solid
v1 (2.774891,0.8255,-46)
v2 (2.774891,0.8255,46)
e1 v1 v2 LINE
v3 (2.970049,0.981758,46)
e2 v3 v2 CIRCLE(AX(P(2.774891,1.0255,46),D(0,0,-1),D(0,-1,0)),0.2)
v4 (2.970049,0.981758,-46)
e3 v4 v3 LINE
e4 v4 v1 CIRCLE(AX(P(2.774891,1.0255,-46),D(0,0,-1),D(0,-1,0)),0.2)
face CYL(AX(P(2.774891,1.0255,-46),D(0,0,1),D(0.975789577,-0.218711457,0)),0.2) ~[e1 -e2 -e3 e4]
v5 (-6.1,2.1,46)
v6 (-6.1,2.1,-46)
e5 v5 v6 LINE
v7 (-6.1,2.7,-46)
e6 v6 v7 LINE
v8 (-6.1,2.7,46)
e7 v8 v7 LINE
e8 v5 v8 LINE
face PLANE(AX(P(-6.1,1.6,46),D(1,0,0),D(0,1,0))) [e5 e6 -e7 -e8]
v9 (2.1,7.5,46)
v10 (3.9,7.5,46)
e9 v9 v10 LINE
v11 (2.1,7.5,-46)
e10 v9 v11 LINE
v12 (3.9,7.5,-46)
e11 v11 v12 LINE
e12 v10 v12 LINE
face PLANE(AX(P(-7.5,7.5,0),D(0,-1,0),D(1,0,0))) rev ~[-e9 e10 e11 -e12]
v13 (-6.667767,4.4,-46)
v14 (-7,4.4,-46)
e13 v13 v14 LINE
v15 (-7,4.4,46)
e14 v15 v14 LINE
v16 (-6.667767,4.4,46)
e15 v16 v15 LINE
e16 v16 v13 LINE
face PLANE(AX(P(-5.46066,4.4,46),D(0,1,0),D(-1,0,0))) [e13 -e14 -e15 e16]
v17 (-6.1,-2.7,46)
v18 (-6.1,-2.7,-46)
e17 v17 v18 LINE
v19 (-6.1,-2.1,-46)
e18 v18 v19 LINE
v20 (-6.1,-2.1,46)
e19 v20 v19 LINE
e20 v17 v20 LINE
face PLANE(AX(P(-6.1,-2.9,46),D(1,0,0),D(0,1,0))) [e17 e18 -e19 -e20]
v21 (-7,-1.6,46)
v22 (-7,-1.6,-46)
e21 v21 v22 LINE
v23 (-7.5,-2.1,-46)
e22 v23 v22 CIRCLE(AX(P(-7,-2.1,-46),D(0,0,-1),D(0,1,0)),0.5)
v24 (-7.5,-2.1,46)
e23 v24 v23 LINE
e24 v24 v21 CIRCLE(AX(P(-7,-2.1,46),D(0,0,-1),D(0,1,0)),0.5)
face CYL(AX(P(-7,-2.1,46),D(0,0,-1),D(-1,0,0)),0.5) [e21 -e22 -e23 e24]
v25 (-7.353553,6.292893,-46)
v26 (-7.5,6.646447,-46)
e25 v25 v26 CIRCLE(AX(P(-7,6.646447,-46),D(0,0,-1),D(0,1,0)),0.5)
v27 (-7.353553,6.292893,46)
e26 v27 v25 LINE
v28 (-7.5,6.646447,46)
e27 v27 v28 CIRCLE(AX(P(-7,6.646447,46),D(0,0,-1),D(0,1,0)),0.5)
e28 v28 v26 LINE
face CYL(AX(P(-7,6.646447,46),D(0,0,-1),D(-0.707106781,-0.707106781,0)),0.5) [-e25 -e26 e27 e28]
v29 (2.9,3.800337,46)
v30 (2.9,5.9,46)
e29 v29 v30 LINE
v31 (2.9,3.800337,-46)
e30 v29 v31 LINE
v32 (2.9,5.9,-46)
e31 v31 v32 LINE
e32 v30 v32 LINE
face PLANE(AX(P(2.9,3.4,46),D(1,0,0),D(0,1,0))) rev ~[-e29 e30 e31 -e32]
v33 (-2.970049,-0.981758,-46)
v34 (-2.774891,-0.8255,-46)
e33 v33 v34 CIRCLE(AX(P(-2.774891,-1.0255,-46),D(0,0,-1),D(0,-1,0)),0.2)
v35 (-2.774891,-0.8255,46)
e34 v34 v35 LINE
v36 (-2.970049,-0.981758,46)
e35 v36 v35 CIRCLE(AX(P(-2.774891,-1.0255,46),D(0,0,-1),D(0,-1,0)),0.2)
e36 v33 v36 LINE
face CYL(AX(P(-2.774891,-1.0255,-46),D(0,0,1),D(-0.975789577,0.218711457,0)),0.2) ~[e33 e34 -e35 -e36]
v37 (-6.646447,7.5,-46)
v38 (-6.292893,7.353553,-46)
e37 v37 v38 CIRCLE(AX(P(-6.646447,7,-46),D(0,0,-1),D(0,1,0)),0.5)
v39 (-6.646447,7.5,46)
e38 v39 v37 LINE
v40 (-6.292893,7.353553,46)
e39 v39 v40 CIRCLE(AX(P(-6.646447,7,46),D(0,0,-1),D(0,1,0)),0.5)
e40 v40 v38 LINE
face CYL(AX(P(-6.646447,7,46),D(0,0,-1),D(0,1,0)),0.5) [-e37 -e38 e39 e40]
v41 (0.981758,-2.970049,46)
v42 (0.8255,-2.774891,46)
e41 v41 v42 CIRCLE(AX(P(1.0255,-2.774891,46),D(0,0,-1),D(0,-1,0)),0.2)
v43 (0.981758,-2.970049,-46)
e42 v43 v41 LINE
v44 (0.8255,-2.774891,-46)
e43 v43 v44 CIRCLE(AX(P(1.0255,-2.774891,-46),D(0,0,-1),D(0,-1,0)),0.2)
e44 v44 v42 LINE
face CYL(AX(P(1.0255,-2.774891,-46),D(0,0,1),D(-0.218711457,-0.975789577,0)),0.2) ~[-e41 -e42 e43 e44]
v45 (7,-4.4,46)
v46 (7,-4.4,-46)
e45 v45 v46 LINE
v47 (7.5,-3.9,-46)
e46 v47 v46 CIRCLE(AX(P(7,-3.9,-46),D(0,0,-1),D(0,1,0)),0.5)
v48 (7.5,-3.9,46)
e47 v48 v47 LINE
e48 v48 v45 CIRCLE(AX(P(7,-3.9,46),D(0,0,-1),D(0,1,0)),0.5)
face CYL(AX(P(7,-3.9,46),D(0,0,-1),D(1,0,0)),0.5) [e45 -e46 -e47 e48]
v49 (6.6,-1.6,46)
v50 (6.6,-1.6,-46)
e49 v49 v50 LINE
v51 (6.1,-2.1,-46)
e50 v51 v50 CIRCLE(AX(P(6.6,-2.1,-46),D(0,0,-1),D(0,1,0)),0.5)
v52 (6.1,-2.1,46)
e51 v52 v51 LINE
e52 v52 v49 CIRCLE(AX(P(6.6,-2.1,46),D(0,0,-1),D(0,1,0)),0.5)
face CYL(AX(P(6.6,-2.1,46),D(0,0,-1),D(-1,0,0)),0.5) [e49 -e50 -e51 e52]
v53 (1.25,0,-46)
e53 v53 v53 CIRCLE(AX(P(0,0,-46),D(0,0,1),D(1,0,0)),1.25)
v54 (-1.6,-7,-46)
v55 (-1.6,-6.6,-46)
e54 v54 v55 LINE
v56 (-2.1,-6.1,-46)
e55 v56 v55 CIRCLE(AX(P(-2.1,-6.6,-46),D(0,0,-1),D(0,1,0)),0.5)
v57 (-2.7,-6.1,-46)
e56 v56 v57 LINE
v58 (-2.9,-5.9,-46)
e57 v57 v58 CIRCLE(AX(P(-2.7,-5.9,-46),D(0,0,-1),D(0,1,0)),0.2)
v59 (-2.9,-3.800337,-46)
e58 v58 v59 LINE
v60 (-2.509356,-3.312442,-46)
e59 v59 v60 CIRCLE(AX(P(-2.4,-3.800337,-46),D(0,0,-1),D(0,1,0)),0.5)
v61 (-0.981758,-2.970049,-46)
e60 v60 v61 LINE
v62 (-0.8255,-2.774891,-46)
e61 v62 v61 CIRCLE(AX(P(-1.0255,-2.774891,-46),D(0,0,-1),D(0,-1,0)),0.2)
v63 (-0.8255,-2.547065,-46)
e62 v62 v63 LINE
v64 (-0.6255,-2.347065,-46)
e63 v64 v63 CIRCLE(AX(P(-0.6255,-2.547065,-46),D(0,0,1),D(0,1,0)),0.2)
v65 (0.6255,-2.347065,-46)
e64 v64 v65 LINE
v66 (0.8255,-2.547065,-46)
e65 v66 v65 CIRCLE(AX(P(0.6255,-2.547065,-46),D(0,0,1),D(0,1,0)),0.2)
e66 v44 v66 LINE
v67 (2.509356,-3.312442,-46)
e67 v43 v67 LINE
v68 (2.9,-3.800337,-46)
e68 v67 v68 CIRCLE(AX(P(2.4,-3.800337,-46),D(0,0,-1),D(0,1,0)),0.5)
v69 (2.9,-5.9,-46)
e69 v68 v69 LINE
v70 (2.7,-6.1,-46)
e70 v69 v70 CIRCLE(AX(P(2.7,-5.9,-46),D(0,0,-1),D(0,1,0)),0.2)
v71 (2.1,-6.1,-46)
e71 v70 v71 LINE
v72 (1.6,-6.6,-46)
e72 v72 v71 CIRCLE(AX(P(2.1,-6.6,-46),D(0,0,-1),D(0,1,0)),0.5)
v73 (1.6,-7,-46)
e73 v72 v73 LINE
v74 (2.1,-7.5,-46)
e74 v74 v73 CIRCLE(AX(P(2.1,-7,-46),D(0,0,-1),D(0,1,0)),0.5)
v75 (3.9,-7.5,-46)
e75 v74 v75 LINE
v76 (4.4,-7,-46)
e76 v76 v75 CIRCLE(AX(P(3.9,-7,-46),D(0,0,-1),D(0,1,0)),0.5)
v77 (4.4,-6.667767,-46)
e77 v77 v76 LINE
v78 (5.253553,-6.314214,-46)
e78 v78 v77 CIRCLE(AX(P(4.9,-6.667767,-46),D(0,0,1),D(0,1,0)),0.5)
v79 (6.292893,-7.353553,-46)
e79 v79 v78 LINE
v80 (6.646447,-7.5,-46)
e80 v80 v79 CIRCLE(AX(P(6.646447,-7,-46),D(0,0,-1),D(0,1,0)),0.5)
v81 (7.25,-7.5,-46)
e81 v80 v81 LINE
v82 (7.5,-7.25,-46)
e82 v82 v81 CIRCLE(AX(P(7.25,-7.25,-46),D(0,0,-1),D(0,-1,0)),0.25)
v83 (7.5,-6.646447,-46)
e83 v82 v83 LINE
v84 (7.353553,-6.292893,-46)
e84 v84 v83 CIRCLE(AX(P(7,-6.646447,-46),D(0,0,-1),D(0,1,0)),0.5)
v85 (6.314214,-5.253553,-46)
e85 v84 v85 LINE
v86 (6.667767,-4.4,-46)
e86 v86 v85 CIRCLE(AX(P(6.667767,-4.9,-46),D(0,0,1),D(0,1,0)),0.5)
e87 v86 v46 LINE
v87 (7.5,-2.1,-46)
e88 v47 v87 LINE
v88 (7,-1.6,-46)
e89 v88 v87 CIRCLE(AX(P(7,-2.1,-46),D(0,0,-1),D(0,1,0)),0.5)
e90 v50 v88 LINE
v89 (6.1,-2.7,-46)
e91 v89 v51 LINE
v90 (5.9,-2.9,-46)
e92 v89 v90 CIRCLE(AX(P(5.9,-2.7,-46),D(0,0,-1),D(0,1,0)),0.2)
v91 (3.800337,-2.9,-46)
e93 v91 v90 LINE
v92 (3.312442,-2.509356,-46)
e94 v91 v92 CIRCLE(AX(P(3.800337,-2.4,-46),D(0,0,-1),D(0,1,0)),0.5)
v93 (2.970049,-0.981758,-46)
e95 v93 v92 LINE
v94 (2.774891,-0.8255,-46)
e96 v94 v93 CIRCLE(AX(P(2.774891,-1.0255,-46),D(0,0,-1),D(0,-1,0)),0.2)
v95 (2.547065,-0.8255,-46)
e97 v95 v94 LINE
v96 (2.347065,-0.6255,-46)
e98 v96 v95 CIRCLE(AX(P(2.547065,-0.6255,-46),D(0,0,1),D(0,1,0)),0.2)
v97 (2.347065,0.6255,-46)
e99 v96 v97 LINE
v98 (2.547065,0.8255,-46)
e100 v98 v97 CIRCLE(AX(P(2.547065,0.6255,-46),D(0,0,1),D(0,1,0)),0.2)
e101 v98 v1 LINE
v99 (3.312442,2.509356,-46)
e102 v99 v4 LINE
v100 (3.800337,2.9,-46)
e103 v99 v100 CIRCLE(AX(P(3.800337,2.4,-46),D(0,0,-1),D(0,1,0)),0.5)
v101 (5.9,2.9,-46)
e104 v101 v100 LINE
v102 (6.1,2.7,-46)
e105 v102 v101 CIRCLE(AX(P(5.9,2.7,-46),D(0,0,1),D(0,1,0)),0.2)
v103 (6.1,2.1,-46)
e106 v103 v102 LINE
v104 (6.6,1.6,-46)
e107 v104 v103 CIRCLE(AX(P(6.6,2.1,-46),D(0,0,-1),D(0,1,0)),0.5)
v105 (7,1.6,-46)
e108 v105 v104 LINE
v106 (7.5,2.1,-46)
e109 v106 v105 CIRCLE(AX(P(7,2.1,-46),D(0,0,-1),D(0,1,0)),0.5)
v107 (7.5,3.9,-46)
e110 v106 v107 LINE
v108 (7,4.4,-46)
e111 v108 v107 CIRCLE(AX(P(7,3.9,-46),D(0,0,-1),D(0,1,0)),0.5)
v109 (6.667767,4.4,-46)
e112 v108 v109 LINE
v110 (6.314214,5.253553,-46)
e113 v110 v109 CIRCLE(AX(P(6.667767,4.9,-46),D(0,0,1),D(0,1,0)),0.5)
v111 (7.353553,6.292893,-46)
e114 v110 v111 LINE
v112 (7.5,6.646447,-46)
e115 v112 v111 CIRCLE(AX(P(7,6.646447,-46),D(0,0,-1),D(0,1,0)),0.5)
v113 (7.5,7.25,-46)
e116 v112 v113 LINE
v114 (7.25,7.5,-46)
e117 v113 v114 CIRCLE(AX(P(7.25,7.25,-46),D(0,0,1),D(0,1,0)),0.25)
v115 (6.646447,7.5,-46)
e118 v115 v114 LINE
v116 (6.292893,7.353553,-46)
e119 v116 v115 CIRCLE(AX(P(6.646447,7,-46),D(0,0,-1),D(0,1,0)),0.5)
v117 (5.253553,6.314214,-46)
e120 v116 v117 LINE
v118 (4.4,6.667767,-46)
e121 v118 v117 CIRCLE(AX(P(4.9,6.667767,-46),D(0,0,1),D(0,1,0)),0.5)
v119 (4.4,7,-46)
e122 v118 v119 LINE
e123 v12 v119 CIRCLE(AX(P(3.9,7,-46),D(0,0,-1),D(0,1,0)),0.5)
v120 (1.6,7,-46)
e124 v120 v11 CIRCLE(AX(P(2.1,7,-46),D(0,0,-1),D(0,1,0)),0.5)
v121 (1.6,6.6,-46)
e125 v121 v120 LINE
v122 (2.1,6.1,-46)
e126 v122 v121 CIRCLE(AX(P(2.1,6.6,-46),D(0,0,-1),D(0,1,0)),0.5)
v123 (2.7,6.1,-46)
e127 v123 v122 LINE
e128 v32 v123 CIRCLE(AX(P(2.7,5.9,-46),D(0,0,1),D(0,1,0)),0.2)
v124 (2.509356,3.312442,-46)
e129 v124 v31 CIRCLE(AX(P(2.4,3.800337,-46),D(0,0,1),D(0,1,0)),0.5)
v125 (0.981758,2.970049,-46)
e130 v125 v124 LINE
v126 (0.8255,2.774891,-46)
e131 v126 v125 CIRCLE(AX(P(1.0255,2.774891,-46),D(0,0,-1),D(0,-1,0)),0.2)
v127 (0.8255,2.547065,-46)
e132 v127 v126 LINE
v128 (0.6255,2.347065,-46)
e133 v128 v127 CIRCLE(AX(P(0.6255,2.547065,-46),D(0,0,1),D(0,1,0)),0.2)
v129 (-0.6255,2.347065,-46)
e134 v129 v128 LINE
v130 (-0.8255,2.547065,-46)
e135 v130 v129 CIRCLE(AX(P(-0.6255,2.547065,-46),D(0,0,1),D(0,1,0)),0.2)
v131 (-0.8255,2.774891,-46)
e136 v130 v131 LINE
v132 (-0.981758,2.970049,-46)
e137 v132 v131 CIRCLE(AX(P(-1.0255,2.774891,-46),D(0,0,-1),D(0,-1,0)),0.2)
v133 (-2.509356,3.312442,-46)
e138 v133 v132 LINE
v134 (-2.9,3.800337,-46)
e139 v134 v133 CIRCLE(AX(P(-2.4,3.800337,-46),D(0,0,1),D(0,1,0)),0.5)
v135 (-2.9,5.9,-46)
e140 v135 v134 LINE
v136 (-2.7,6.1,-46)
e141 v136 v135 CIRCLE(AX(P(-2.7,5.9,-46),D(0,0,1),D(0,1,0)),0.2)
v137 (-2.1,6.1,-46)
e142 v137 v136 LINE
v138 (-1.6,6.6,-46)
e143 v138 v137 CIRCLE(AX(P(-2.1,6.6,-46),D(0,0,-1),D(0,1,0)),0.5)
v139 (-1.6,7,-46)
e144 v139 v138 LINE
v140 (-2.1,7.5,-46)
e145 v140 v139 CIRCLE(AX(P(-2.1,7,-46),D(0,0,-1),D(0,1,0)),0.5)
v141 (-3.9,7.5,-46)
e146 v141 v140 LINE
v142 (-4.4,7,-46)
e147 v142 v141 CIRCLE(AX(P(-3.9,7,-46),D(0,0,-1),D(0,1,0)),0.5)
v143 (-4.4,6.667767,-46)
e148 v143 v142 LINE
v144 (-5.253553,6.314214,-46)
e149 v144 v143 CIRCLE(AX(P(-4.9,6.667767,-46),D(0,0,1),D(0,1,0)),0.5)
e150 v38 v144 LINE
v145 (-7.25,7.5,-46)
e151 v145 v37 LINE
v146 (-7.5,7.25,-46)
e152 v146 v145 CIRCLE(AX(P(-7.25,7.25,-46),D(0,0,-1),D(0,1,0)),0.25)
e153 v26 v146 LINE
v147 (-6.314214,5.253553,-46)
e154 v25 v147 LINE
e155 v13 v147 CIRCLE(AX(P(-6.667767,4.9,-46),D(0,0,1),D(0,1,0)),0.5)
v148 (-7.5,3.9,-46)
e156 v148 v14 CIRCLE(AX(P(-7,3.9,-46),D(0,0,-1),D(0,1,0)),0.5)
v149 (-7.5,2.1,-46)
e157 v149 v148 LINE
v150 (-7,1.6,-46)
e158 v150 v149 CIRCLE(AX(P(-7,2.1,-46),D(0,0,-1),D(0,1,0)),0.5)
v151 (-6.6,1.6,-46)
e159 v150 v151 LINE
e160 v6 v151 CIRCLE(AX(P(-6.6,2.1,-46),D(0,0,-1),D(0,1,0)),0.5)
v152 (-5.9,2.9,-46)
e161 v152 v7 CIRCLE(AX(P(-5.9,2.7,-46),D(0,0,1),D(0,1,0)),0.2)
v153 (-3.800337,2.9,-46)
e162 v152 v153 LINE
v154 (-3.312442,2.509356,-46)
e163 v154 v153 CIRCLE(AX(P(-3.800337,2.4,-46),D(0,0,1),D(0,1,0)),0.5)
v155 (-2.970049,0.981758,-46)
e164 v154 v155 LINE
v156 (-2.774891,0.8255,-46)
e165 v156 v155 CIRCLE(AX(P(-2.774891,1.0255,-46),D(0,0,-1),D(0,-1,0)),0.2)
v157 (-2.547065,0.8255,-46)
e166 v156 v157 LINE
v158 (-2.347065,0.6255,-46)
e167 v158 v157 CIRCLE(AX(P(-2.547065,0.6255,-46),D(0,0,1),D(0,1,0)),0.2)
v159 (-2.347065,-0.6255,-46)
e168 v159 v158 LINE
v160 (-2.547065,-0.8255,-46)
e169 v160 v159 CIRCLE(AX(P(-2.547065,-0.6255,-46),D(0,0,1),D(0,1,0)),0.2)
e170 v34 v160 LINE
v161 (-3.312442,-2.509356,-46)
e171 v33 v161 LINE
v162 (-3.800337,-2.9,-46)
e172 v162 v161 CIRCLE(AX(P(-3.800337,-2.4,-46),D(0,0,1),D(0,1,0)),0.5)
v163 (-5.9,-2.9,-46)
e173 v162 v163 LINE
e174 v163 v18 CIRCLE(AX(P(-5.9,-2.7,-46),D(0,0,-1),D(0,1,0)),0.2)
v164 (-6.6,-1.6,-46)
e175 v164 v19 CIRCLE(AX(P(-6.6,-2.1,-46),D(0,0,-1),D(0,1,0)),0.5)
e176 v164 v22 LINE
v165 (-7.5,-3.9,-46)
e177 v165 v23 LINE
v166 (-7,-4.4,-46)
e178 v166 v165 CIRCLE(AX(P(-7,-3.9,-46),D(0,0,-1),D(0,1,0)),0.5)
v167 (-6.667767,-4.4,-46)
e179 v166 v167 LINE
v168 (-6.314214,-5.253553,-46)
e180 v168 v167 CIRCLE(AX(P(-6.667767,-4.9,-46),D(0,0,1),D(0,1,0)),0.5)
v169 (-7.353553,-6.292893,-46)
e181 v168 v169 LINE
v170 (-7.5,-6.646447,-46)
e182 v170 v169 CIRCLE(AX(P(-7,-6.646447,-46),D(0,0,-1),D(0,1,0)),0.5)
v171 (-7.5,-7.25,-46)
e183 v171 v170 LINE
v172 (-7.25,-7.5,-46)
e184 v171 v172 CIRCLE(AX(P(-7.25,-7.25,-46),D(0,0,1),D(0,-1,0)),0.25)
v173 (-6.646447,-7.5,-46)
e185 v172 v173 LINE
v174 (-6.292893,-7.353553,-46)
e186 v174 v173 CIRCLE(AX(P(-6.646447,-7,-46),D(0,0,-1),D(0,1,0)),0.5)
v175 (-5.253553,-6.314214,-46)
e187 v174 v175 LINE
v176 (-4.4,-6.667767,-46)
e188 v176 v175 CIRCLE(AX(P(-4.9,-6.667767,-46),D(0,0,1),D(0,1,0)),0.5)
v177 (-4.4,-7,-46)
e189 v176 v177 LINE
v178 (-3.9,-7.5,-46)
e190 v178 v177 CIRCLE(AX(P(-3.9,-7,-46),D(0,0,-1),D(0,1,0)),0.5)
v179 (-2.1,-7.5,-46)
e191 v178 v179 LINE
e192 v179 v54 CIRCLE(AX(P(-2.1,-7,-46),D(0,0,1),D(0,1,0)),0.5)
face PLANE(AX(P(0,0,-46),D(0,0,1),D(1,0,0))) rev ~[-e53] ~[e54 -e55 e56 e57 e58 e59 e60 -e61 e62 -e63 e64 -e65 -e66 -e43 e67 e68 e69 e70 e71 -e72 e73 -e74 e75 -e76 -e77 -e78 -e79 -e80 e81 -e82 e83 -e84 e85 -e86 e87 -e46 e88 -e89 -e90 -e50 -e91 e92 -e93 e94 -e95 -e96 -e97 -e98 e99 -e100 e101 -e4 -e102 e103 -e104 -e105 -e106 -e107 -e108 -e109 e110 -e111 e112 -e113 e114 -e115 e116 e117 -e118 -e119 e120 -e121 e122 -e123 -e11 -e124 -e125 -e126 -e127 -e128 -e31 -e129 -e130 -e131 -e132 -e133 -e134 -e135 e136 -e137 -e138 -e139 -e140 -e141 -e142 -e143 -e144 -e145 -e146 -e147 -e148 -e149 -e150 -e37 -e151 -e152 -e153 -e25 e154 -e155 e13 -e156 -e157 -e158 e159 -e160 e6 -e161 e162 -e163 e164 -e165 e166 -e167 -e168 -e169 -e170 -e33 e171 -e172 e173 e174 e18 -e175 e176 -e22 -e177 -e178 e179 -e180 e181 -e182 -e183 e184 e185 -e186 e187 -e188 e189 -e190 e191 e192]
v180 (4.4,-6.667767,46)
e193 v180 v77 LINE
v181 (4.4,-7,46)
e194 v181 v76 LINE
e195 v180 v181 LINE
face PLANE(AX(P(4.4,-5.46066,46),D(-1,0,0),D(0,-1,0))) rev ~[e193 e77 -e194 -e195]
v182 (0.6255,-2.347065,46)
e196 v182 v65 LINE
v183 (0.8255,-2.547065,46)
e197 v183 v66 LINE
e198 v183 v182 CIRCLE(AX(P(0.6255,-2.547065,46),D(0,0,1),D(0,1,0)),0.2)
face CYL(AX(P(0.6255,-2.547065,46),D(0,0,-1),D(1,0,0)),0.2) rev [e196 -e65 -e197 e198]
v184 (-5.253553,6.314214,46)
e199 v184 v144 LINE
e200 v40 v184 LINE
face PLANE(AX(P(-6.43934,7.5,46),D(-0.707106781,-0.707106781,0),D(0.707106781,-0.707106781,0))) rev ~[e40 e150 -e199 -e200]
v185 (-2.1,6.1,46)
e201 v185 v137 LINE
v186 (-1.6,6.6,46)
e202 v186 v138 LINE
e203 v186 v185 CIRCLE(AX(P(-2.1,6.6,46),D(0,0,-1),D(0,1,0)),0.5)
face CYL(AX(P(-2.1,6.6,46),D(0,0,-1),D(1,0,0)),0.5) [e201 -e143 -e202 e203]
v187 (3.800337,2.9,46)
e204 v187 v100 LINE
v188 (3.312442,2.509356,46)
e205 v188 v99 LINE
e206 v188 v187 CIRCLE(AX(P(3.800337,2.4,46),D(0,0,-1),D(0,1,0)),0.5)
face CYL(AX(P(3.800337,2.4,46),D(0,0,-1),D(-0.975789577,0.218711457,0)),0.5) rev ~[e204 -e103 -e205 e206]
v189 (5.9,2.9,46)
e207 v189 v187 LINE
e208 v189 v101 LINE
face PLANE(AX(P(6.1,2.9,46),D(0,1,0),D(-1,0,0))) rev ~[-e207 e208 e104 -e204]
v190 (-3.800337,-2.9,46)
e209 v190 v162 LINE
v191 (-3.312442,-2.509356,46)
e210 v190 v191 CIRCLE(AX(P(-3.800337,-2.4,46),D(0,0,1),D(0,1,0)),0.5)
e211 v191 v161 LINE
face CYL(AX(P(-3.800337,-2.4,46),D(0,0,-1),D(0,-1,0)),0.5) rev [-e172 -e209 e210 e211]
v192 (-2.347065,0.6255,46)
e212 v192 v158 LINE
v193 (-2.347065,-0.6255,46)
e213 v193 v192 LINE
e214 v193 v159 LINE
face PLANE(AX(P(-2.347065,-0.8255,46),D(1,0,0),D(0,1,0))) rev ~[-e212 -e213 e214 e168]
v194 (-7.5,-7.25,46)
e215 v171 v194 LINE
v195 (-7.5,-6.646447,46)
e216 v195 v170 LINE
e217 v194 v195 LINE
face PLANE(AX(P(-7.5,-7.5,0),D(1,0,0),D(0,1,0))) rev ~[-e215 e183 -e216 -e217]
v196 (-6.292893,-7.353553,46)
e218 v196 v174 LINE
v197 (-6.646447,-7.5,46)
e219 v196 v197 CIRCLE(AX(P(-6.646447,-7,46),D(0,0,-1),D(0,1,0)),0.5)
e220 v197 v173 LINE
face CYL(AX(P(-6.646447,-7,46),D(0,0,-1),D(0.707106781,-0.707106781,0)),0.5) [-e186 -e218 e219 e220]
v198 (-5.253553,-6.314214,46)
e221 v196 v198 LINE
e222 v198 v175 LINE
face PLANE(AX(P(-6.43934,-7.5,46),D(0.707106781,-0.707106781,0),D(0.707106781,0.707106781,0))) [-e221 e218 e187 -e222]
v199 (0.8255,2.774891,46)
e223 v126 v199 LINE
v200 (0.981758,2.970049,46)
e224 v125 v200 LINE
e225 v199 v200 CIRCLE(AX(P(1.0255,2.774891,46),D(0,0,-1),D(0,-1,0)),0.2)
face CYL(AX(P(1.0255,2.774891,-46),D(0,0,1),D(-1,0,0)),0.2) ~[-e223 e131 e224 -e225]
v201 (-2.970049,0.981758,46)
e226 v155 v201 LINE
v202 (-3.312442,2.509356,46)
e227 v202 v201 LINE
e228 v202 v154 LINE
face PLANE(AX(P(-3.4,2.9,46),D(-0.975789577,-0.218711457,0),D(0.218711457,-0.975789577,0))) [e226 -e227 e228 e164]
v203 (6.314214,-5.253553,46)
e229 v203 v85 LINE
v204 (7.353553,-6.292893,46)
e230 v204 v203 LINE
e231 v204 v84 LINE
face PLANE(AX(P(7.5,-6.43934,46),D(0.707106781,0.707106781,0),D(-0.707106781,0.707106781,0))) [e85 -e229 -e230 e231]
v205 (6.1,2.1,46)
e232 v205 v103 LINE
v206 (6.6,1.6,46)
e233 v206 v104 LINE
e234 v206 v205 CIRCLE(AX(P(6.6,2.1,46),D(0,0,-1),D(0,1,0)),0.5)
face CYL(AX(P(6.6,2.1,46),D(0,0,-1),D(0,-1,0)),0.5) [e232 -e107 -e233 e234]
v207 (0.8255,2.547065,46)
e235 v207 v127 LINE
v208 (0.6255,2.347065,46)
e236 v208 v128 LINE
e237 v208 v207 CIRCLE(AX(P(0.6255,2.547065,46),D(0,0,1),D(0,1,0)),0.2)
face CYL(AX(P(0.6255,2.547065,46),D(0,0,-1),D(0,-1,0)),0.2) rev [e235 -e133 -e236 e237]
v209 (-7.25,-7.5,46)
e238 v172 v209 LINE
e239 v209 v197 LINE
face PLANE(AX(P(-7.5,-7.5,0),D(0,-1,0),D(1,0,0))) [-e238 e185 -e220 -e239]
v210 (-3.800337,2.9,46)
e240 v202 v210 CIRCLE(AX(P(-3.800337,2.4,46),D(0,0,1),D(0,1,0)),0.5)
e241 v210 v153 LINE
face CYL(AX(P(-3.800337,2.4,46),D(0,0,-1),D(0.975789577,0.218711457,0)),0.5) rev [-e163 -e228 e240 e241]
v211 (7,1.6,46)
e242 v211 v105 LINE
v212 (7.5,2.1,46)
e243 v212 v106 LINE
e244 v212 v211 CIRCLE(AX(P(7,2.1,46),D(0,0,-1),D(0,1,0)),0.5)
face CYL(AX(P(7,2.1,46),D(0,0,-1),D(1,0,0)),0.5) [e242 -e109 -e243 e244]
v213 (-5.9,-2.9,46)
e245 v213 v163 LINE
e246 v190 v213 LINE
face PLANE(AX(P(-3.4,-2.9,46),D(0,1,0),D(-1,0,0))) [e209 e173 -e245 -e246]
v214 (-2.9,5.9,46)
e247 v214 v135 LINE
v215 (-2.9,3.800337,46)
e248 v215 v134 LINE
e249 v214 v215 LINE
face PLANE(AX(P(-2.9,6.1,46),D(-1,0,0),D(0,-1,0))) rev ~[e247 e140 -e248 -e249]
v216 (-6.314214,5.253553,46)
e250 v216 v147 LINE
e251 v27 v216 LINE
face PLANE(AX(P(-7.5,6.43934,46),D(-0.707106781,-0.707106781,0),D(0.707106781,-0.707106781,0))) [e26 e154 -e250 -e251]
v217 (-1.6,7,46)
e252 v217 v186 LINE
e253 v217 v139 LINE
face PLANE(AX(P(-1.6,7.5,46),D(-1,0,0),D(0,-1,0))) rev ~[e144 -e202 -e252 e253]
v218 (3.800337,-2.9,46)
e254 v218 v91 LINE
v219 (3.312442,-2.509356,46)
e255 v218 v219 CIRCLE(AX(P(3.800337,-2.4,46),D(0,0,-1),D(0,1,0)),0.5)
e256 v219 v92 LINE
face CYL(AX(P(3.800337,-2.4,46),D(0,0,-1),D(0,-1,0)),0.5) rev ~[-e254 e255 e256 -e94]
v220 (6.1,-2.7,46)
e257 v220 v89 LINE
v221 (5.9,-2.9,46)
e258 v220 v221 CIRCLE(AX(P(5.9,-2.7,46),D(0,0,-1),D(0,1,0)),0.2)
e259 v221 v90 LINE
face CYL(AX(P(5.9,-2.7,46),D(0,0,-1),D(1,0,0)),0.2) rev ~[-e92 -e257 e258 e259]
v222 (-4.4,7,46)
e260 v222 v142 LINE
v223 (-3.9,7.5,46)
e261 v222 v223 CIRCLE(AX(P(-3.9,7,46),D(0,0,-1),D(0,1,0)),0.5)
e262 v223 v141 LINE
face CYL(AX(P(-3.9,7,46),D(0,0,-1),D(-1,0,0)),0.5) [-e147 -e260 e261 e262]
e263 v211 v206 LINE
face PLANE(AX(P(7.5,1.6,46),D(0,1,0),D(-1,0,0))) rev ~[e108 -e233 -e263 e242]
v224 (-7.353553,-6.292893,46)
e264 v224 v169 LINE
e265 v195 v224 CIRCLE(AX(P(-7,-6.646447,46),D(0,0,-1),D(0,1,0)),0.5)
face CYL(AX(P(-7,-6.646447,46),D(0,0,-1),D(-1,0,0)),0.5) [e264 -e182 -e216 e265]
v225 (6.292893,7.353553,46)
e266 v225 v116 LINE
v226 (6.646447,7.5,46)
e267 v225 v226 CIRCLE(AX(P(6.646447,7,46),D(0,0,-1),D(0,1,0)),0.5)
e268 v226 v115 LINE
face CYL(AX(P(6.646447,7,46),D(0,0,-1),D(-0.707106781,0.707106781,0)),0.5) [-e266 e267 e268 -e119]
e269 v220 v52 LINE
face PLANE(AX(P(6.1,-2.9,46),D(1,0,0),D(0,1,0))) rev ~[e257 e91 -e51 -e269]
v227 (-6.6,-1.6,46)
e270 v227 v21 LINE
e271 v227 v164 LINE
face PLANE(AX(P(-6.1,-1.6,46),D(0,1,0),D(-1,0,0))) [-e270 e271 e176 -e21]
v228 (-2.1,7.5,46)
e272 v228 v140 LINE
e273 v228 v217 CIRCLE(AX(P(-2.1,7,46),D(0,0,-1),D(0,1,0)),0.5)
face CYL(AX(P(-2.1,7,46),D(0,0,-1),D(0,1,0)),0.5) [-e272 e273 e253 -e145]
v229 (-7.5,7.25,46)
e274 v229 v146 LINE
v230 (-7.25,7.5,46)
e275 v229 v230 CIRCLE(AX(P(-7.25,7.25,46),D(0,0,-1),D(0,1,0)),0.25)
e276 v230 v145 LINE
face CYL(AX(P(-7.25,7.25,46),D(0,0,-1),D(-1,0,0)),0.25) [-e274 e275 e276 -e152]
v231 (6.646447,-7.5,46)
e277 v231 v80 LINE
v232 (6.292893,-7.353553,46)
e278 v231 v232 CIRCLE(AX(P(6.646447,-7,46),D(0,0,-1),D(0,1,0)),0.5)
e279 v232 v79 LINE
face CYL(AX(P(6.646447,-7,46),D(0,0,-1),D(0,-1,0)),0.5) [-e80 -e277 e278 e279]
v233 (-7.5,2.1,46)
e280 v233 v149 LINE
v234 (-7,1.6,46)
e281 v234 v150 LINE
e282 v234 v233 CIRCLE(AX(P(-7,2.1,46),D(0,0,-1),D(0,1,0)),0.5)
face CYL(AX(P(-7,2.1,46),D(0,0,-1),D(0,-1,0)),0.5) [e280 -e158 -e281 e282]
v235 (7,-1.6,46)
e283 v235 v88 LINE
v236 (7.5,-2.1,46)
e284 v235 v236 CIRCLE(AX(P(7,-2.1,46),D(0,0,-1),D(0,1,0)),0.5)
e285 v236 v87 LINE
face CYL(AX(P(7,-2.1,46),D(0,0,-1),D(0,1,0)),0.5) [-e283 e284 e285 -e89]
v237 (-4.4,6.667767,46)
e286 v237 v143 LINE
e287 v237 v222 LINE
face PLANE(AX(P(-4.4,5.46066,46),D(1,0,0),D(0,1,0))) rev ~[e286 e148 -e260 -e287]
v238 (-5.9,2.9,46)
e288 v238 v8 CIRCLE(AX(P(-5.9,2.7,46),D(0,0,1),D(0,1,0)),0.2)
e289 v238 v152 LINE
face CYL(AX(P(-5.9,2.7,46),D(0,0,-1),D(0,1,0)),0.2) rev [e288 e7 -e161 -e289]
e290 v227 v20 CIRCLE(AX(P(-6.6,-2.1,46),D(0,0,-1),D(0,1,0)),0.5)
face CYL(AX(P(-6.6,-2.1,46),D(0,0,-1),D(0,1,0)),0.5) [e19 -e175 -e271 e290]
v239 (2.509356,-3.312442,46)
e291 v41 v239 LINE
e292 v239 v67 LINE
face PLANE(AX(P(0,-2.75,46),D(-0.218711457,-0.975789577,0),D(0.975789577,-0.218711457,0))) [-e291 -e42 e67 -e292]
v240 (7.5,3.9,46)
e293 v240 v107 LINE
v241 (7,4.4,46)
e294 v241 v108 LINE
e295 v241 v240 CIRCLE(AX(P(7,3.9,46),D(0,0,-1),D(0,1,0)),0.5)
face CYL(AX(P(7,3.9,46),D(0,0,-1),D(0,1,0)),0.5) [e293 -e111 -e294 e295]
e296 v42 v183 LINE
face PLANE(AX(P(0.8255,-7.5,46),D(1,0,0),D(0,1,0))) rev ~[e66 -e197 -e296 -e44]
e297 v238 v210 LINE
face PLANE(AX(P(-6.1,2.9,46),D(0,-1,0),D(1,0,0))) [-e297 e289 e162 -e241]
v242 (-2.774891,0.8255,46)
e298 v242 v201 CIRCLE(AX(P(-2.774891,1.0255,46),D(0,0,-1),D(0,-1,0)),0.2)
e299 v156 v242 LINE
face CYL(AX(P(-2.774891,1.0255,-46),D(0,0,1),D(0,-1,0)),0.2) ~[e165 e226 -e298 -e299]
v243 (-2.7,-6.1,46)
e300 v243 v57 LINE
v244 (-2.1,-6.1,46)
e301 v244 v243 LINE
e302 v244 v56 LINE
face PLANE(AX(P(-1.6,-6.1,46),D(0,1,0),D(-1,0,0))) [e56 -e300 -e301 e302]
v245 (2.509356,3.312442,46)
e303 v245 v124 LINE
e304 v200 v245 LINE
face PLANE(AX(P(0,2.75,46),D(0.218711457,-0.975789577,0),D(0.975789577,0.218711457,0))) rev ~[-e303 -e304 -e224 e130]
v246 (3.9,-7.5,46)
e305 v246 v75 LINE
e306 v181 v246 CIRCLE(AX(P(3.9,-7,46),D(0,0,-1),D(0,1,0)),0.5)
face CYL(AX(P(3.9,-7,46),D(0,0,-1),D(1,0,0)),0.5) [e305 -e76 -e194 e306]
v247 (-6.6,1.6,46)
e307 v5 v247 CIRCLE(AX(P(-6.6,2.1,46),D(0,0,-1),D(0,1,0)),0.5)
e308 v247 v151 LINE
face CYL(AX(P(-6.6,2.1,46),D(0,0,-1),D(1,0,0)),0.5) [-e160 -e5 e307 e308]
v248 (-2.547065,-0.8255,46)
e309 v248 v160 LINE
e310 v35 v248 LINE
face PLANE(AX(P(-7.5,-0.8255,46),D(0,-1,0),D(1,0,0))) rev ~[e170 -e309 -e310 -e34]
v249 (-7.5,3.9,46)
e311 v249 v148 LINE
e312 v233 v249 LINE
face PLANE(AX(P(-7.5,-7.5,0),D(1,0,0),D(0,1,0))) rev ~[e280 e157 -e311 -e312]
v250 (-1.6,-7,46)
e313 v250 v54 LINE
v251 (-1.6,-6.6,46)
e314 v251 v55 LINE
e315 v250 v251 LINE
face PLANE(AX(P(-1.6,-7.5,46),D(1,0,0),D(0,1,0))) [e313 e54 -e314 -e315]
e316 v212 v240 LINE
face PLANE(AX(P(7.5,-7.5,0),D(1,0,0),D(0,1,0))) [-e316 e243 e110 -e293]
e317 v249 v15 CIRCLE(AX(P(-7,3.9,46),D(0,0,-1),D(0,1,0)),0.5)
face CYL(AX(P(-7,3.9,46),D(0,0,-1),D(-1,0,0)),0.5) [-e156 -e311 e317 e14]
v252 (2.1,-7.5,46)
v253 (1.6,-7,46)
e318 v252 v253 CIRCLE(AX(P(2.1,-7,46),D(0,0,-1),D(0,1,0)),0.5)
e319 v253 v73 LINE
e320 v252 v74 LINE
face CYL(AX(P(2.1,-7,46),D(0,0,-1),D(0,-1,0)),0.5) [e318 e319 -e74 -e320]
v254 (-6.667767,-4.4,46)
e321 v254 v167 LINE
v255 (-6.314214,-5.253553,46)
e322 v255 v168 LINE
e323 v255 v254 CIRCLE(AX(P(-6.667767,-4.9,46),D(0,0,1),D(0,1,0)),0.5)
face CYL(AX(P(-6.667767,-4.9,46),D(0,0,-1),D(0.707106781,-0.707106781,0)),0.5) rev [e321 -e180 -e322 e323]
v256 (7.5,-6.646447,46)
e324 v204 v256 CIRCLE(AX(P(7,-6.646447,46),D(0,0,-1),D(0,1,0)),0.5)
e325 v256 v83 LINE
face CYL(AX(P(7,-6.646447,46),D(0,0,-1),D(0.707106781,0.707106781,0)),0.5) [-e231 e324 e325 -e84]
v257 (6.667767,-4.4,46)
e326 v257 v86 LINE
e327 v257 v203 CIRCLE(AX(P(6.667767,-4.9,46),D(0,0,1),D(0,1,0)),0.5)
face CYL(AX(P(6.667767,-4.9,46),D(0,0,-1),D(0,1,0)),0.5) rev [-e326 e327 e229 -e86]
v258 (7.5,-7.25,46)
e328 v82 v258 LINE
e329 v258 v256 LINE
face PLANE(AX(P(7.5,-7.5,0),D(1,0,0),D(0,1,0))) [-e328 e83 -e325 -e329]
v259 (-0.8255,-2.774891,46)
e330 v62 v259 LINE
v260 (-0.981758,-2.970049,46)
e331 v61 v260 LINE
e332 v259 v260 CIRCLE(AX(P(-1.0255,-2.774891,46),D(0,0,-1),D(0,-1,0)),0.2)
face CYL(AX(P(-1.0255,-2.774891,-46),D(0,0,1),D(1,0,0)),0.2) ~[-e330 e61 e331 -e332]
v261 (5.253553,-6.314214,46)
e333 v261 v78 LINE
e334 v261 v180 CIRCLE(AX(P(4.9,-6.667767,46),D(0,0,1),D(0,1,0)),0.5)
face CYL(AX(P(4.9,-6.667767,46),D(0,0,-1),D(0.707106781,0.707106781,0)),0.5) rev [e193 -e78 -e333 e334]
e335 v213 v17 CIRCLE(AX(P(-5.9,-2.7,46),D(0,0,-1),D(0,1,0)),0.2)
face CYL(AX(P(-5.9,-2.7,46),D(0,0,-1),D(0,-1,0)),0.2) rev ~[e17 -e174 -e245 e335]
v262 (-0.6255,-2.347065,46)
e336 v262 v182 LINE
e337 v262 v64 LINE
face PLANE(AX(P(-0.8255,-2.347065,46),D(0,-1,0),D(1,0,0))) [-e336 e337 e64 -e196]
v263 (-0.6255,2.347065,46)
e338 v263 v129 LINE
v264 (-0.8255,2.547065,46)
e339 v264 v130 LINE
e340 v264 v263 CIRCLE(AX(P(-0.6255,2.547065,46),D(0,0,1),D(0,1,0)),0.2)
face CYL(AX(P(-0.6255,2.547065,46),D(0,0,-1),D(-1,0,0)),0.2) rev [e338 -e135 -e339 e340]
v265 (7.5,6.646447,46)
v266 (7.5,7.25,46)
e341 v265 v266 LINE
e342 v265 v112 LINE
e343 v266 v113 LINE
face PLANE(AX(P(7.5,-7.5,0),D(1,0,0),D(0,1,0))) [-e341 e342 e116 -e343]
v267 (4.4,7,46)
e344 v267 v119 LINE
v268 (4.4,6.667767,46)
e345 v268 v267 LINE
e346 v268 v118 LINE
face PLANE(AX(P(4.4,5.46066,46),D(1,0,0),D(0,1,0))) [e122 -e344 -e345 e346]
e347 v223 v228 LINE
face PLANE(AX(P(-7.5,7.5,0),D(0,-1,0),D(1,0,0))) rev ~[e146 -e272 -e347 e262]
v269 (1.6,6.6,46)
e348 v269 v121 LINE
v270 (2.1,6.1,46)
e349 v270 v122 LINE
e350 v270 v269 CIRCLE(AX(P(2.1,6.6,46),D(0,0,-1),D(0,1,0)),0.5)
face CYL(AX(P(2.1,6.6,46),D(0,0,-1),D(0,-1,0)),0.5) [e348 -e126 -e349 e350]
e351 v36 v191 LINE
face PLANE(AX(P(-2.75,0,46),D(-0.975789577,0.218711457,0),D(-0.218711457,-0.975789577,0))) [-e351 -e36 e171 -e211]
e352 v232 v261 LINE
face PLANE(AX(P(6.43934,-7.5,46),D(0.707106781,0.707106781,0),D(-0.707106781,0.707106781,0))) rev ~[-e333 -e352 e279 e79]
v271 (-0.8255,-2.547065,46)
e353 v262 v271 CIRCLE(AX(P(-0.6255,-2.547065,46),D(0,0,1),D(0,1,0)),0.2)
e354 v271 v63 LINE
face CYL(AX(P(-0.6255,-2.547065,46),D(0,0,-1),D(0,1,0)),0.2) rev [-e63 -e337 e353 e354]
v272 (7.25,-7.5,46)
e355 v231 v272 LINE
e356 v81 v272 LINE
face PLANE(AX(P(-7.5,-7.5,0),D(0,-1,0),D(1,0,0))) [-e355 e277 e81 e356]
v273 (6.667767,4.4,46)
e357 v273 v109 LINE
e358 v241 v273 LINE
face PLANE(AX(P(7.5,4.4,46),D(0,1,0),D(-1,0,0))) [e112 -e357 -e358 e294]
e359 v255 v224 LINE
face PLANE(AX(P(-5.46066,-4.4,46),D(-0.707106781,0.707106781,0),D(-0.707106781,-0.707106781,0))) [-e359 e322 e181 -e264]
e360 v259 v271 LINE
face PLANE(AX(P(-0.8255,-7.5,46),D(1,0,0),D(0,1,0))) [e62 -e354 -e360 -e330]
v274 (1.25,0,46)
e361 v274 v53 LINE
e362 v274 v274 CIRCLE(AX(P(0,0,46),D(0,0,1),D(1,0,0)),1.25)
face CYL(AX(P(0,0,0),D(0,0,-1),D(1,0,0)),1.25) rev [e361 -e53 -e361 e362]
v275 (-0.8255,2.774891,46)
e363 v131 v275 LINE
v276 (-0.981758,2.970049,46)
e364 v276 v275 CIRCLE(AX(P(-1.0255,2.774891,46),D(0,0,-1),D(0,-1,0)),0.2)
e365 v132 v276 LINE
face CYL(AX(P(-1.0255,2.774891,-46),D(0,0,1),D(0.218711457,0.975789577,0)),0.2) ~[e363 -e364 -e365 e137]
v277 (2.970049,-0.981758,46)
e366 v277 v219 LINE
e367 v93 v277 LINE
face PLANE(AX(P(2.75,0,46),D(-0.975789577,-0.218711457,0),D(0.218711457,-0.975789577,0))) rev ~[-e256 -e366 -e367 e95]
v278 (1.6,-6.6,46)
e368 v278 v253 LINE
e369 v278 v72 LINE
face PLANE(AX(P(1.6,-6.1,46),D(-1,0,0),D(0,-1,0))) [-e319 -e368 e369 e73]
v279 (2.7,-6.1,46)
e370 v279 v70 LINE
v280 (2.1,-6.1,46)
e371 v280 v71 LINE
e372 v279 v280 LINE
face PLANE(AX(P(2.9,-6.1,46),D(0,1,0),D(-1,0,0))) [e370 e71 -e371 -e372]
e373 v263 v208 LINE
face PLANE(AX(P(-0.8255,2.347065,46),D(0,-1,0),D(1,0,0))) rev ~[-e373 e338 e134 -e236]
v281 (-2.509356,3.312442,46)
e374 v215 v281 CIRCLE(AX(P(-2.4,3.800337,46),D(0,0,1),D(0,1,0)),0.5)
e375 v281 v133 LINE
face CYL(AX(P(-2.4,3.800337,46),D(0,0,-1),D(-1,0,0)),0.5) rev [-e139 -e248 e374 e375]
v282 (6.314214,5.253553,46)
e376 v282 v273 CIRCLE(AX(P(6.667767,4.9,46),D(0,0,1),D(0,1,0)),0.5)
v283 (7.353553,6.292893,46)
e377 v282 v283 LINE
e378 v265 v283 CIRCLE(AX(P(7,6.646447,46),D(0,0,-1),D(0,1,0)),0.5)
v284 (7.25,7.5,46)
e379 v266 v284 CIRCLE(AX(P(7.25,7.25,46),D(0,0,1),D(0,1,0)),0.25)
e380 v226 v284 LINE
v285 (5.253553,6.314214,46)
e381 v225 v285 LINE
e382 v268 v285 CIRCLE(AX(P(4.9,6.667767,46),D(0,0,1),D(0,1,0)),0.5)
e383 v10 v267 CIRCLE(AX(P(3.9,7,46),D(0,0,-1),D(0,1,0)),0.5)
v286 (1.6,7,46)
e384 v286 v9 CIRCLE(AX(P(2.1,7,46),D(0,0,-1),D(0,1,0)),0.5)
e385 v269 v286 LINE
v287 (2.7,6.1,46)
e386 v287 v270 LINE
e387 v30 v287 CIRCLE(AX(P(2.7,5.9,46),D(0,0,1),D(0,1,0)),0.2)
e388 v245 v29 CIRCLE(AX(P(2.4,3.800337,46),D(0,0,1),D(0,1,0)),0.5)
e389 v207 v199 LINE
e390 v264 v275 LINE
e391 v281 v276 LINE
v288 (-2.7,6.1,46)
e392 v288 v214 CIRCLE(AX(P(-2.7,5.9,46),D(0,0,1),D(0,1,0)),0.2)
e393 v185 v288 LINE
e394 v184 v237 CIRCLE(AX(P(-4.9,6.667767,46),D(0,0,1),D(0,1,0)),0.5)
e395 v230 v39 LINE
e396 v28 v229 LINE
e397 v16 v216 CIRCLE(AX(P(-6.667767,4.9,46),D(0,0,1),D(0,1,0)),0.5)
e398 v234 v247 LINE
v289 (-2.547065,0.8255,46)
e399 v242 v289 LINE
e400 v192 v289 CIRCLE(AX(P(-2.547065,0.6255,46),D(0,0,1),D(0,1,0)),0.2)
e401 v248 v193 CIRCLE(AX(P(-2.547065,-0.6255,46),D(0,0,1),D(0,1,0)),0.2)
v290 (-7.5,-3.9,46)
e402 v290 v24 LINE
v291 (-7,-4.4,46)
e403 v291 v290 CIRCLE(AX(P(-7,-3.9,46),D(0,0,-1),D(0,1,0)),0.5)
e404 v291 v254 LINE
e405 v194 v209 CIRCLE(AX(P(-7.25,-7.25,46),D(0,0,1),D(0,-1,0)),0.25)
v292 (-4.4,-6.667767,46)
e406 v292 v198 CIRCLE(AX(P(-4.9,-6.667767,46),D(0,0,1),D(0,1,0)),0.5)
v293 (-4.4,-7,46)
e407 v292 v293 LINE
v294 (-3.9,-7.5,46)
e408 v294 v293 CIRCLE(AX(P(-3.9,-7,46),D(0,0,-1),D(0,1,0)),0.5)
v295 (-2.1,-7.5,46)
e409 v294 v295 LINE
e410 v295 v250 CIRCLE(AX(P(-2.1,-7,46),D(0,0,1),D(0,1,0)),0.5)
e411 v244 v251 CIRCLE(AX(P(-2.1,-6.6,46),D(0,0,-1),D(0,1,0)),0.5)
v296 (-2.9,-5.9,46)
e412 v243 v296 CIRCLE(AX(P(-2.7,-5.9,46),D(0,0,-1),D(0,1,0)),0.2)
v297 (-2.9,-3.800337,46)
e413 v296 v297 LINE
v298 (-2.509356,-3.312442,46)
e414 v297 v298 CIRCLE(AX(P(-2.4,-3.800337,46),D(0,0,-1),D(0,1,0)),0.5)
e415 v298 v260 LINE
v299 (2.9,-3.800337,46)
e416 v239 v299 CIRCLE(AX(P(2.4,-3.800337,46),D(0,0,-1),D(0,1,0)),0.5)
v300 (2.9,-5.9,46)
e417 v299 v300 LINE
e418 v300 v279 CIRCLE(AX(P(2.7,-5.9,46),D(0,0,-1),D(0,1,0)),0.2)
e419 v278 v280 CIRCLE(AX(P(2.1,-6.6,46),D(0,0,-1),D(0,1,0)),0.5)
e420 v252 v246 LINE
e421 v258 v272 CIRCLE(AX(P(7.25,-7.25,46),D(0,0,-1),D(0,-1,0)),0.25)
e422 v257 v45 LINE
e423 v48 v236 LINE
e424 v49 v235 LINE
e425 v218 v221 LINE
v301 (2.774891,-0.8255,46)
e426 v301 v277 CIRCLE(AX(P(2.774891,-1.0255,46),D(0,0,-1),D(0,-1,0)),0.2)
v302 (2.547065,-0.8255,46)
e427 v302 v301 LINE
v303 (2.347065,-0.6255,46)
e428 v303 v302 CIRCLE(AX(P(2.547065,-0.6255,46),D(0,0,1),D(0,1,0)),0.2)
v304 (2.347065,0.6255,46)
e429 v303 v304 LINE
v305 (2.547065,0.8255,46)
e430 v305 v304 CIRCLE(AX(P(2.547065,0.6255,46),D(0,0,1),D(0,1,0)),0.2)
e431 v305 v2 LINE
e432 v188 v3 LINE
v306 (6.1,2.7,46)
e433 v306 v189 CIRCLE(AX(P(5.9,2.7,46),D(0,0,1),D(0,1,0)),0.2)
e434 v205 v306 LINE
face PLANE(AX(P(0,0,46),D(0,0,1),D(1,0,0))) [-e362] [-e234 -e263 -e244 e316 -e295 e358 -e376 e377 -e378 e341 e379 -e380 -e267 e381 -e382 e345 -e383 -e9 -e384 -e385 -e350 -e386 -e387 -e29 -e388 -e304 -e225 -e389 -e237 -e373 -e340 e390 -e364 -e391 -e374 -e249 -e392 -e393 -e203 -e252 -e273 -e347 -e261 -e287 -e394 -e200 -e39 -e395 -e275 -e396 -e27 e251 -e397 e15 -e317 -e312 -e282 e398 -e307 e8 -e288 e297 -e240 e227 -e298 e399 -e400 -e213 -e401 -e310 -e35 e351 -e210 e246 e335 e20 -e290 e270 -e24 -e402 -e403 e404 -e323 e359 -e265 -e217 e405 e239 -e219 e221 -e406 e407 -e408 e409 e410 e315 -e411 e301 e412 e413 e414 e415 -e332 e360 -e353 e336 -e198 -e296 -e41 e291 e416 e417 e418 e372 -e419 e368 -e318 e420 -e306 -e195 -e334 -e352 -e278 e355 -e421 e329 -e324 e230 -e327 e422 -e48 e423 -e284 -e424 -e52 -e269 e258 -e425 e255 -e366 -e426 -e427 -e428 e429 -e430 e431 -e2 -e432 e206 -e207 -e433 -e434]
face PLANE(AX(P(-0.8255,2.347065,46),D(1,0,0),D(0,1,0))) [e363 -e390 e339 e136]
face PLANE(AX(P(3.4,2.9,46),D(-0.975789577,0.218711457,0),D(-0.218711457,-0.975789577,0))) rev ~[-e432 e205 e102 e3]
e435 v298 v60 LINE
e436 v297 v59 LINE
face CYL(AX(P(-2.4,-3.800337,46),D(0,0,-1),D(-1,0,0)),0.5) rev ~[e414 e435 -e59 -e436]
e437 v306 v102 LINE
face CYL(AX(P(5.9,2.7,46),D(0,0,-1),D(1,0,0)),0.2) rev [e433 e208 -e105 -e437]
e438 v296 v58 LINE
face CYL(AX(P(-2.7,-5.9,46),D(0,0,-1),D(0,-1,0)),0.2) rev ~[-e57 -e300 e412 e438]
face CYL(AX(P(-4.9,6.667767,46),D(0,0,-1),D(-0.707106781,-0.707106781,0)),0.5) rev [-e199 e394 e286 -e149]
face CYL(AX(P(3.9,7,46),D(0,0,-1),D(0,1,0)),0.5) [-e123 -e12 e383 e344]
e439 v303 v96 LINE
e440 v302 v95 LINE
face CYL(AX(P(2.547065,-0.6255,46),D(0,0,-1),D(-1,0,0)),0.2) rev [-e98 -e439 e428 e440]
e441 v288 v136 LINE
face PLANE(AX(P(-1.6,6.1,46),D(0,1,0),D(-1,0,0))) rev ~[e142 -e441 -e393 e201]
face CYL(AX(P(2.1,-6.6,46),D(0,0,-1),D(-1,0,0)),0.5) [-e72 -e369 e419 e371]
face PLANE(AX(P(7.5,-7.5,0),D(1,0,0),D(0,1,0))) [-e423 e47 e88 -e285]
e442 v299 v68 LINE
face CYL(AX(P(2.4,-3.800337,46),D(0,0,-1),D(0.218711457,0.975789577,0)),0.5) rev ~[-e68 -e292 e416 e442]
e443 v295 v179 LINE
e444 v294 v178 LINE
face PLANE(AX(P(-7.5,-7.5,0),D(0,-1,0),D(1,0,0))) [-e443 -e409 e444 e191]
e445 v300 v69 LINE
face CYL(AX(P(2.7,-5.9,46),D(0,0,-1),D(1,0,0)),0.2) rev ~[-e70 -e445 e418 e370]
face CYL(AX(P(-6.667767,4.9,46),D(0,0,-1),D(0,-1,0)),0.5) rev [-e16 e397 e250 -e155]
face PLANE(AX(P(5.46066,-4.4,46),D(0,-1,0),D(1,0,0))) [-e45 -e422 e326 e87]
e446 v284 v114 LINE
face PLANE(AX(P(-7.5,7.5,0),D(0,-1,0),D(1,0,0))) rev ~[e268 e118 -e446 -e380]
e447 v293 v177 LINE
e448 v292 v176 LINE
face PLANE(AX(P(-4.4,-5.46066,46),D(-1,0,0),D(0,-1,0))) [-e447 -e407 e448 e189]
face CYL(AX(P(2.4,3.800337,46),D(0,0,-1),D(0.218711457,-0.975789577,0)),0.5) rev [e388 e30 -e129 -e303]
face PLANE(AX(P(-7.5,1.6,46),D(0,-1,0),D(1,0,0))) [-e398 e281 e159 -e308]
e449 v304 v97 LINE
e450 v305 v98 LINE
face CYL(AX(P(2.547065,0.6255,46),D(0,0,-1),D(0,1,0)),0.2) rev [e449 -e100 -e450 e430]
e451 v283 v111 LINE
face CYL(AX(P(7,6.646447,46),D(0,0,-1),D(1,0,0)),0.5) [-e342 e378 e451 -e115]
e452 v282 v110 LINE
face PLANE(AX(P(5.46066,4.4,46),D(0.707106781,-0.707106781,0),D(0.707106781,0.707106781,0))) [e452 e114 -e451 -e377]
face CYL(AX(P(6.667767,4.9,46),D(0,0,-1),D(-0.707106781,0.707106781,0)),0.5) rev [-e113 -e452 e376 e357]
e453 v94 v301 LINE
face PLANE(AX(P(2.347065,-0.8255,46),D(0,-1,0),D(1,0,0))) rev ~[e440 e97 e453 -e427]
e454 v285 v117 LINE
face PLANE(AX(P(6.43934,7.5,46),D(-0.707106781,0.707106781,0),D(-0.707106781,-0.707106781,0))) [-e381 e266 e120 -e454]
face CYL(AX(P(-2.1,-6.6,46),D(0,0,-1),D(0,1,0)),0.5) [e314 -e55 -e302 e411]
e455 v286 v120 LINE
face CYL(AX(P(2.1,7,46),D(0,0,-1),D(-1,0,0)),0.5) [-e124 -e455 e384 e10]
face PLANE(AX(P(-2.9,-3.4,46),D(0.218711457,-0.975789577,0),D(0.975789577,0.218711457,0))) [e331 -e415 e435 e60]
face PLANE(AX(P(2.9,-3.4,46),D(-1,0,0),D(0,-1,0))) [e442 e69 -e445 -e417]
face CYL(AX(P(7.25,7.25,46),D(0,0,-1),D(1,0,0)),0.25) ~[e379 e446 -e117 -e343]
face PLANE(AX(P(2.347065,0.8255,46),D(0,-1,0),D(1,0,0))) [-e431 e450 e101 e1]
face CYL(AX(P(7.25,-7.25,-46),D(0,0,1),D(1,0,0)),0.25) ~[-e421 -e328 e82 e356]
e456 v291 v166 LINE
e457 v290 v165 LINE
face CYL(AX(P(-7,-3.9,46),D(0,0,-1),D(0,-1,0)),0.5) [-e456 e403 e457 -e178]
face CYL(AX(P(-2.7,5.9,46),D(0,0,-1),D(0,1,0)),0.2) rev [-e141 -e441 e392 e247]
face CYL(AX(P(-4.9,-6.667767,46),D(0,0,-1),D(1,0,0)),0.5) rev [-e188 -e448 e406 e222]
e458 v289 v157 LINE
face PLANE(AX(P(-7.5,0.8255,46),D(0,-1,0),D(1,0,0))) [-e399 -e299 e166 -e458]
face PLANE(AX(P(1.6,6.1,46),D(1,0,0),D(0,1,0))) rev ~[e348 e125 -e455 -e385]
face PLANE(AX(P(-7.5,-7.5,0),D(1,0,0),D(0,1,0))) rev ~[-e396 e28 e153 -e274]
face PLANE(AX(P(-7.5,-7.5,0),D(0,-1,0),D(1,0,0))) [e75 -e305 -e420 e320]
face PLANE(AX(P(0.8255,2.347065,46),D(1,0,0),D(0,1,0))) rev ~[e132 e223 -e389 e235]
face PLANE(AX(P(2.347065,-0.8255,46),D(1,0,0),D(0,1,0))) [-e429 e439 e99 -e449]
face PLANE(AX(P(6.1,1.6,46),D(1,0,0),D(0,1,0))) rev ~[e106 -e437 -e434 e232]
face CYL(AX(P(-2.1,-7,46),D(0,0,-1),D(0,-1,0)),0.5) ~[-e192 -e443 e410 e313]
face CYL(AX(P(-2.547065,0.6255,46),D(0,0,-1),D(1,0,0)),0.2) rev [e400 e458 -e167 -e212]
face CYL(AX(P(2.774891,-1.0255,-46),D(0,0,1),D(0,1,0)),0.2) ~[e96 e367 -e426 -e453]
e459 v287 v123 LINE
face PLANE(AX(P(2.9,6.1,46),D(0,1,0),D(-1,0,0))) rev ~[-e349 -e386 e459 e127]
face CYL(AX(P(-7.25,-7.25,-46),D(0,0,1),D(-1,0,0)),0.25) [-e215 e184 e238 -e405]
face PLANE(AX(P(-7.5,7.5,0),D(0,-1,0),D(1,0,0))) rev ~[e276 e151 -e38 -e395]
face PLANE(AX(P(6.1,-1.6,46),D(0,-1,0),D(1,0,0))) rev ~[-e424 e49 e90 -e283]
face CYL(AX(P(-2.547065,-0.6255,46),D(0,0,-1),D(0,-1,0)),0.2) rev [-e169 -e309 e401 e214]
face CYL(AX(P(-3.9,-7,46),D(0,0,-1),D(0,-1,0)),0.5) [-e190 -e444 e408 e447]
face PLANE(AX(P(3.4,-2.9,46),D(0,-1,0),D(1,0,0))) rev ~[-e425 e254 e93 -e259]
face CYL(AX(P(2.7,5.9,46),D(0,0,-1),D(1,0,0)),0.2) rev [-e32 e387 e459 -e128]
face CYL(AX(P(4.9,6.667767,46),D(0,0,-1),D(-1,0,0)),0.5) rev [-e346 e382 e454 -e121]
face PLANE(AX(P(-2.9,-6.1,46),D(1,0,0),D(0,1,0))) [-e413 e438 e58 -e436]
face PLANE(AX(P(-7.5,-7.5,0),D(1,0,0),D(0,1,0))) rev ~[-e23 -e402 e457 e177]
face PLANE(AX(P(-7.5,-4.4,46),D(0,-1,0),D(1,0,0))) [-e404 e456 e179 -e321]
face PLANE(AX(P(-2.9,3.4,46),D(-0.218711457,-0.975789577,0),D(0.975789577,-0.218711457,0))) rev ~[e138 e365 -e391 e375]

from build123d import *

# Parameters (mm, degrees)
SKETCH1_W           = 15
SKETCH1_H           = 15
SKETCH1_R           = 1.25
BOSS_EXTRUDE1_DEPTH = 46
FILLET1_R           = 0.25
CUT_EXTRUDE1_DEPTH  = 93.609394772
CUT_EXTRUDE3_DEPTH  = 93.609394772
FILLET3_R           = 0.5
FILLET4_R           = 0.5
FILLET5_R           = 3
FILLET6_R           = 0.2
CUT_EXTRUDE4_DEPTH  = 93.609394772
FILLET8_R           = 0.5
SKETCH6_W           = 5.1529354
SKETCH6_H           = 1.651
SKETCH6_W_2         = 1.651
SKETCH6_H_2         = 5.1529354
CUT_EXTRUDE5_DEPTH  = 93.609394772
FILLET10_R          = 0.2


with BuildPart() as part:
    # Sketch1 → Boss-Extrude1 (new, symmetric)
    with BuildSketch(Plane.XY):
        Rectangle(SKETCH1_W, SKETCH1_H)
        Circle(SKETCH1_R, mode=Mode.SUBTRACT)
    extrude(amount=BOSS_EXTRUDE1_DEPTH, both=True)

    # Fillet1
    fillet1_edges = [part.edges().sort_by_distance(p)[0] for p in [
        (7.5, -7.5, 0),
        (-7.5, -7.5, 0),
        (-7.5, 7.5, 0),
        (7.5, 7.5, 0),
    ]]
    fillet(fillet1_edges, radius=FILLET1_R)

    # Sketch2 → Cut-Extrude1 (cut, through all)
    with BuildSketch(Plane.XY.offset(46)):
        Polygon((-7.5, 1.6), (-6.1, 1.6), (-6.1, 2.9), (-3.4, 2.9), (-3.4, -2.9), (-6.1, -2.9), (-6.1, -1.6), (-7.5, -1.6), align=None)
        Polygon((2.9, 6.1), (1.6, 6.1), (1.6, 7.5), (-1.6, 7.5), (-1.6, 6.1), (-2.9, 6.1), (-2.9, 3.4), (2.9, 3.4), align=None)
        Polygon((-1.6, -7.5), (-1.6, -6.1), (-2.9, -6.1), (-2.9, -3.4), (2.9, -3.4), (2.9, -6.1), (1.6, -6.1), (1.6, -7.5), align=None)
        Polygon((6.1, -2.9), (6.1, -1.6), (7.5, -1.6), (7.5, 1.6), (6.1, 1.6), (6.1, 2.9), (3.4, 2.9), (3.4, -2.9), align=None)
    extrude(amount=-CUT_EXTRUDE1_DEPTH, mode=Mode.SUBTRACT)

    # Sketch4 → Cut-Extrude3 (cut, through all)
    with BuildSketch(Plane.XY.offset(46)):
        Polygon((-3.4, 2.9), (-2.75, 0), (-3.4, -2.9), align=None)
        Polygon((-2.9, 3.4), (0, 2.75), (2.9, 3.4), align=None)
        Polygon((3.4, 2.9), (2.75, 0), (3.4, -2.9), align=None)
        Polygon((-2.9, -3.4), (0, -2.75), (2.9, -3.4), align=None)
    extrude(amount=-CUT_EXTRUDE3_DEPTH, mode=Mode.SUBTRACT)

    # Fillet3
    fillet3_edges = [part.edges().sort_by_distance(p)[0] for p in [
        (1.6, -7.5, 0),
        (-1.6, -7.5, 0),
        (-1.6, -6.1, 0),
        (1.6, -6.1, 0),
        (6.1, 1.6, 0),
        (7.5, 1.6, 0),
        (7.5, -1.6, 0),
        (6.1, -1.6, 0),
        (-7.5, -1.6, 0),
        (-7.5, 1.6, 0),
        (-6.1, 1.6, 0),
        (-6.1, -1.6, 0),
        (-1.6, 6.1, 0),
        (-1.6, 7.5, 0),
        (1.6, 7.5, 0),
        (1.6, 6.1, 0),
    ]]
    fillet(fillet3_edges, radius=FILLET3_R)

    # Fillet4
    fillet4_edges = [part.edges().sort_by_distance(p)[0] for p in [
        (-2.9, -3.4, 0),
        (2.9, -3.4, 0),
        (3.4, -2.9, 0),
        (3.4, 2.9, 0),
        (-3.4, 2.9, 0),
        (-3.4, -2.9, 0),
        (2.9, 3.4, 0),
        (-2.9, 3.4, 0),
    ]]
    fillet(fillet4_edges, radius=FILLET4_R)

    # Fillet5
    fillet5_edges = [part.edges().sort_by_distance(p)[0] for p in [
        (-2.75, 0, 0),
        (0, 2.75, 0),
        (2.75, 0, 0),
        (0, -2.75, 0),
    ]]
    fillet(fillet5_edges, radius=FILLET5_R)

    # Fillet6
    fillet6_edges = [part.edges().sort_by_distance(p)[0] for p in [
        (-2.9, -6.1, 0),
        (2.9, -6.1, 0),
        (6.1, -2.9, 0),
        (6.1, 2.9, 0),
        (-6.1, 2.9, 0),
        (-6.1, -2.9, 0),
        (2.9, 6.1, 0),
        (-2.9, 6.1, 0),
    ]]
    fillet(fillet6_edges, radius=FILLET6_R)

    # Sketch5 → Cut-Extrude4 (cut, through all)
    with BuildSketch(Plane.XY.offset(46)):
        Polygon((-7.5, 6.439339828), (-5.460660172, 4.4), (-7.5, 4.4), align=None)
        Polygon((-6.439339828, 7.5), (-4.4, 5.460660172), (-4.4, 7.5), align=None)
        Polygon((4.4, 7.5), (6.439339828, 7.5), (4.4, 5.460660172), align=None)
        Polygon((7.5, 6.439339828), (7.5, 4.4), (5.460660172, 4.4), align=None)
        Polygon((7.5, -6.439339828), (5.460660172, -4.4), (7.5, -4.4), align=None)
        Polygon((6.439339828, -7.5), (4.4, -5.460660172), (4.4, -7.5), align=None)
        Polygon((-4.4, -7.5), (-6.439339828, -7.5), (-4.4, -5.460660172), align=None)
        Polygon((-7.5, -6.439339828), (-7.5, -4.4), (-5.460660172, -4.4), align=None)
    extrude(amount=-CUT_EXTRUDE4_DEPTH, mode=Mode.SUBTRACT)

    # Fillet8
    fillet8_edges = [part.edges().sort_by_distance(p)[0] for p in [
        (-7.5, 4.4, 0),
        (-7.5, 6.439339828, 0),
        (-5.460660172, 4.4, 0),
        (7.5, -4.4, 0),
        (7.5, -6.439339828, 0),
        (5.460660172, -4.4, 0),
        (5.460660172, 4.4, 0),
        (7.5, 6.439339828, 0),
        (7.5, 4.4, 0),
        (-4.4, 7.5, 0),
        (-4.4, 5.460660172, 0),
        (-6.439339828, 7.5, 0),
        (-5.460660172, -4.4, 0),
        (-7.5, -6.439339828, 0),
        (-7.5, -4.4, 0),
        (4.4, 5.460660172, 0),
        (4.4, 7.5, 0),
        (6.439339828, 7.5, 0),
        (6.439339828, -7.5, 0),
        (4.4, -7.5, 0),
        (4.4, -5.460660172, 0),
        (-6.439339828, -7.5, 0),
        (-4.4, -5.460660172, 0),
        (-4.4, -7.5, 0),
    ]]
    fillet(fillet8_edges, radius=FILLET8_R)

    # Sketch6 → Cut-Extrude5 (cut, through all)
    with BuildSketch(Plane.XY.offset(46)):
        with Locations((4.9235323, 0)):
            Rectangle(SKETCH6_W, SKETCH6_H)
        with Locations((0, -4.9235323)):
            Rectangle(SKETCH6_W_2, SKETCH6_H_2)
        with Locations((-4.9235323, 0)):
            Rectangle(SKETCH6_W, SKETCH6_H)
        with Locations((0, 4.9235323)):
            Rectangle(SKETCH6_W_2, SKETCH6_H_2)
    extrude(amount=-CUT_EXTRUDE5_DEPTH, mode=Mode.SUBTRACT)

    # Fillet10
    fillet10_edges = [part.edges().sort_by_distance(p)[0] for p in [
        (0.8255, -2.935025862, 0),
        (-0.8255, -2.935025862, 0),
        (0.8255, -2.3470646, 0),
        (-0.8255, -2.3470646, 0),
        (2.935025862, 0.8255, 0),
        (2.935025862, -0.8255, 0),
        (2.3470646, 0.8255, 0),
        (2.3470646, -0.8255, 0),
        (-2.935025862, -0.8255, 0),
        (-2.935025862, 0.8255, 0),
        (-2.3470646, -0.8255, 0),
        (-2.3470646, 0.8255, 0),
        (-0.8255, 2.935025862, 0),
        (0.8255, 2.935025862, 0),
        (-0.8255, 2.3470646, 0),
        (0.8255, 2.3470646, 0),
    ]]
    fillet(fillet10_edges, radius=FILLET10_R)


solid = part.part
